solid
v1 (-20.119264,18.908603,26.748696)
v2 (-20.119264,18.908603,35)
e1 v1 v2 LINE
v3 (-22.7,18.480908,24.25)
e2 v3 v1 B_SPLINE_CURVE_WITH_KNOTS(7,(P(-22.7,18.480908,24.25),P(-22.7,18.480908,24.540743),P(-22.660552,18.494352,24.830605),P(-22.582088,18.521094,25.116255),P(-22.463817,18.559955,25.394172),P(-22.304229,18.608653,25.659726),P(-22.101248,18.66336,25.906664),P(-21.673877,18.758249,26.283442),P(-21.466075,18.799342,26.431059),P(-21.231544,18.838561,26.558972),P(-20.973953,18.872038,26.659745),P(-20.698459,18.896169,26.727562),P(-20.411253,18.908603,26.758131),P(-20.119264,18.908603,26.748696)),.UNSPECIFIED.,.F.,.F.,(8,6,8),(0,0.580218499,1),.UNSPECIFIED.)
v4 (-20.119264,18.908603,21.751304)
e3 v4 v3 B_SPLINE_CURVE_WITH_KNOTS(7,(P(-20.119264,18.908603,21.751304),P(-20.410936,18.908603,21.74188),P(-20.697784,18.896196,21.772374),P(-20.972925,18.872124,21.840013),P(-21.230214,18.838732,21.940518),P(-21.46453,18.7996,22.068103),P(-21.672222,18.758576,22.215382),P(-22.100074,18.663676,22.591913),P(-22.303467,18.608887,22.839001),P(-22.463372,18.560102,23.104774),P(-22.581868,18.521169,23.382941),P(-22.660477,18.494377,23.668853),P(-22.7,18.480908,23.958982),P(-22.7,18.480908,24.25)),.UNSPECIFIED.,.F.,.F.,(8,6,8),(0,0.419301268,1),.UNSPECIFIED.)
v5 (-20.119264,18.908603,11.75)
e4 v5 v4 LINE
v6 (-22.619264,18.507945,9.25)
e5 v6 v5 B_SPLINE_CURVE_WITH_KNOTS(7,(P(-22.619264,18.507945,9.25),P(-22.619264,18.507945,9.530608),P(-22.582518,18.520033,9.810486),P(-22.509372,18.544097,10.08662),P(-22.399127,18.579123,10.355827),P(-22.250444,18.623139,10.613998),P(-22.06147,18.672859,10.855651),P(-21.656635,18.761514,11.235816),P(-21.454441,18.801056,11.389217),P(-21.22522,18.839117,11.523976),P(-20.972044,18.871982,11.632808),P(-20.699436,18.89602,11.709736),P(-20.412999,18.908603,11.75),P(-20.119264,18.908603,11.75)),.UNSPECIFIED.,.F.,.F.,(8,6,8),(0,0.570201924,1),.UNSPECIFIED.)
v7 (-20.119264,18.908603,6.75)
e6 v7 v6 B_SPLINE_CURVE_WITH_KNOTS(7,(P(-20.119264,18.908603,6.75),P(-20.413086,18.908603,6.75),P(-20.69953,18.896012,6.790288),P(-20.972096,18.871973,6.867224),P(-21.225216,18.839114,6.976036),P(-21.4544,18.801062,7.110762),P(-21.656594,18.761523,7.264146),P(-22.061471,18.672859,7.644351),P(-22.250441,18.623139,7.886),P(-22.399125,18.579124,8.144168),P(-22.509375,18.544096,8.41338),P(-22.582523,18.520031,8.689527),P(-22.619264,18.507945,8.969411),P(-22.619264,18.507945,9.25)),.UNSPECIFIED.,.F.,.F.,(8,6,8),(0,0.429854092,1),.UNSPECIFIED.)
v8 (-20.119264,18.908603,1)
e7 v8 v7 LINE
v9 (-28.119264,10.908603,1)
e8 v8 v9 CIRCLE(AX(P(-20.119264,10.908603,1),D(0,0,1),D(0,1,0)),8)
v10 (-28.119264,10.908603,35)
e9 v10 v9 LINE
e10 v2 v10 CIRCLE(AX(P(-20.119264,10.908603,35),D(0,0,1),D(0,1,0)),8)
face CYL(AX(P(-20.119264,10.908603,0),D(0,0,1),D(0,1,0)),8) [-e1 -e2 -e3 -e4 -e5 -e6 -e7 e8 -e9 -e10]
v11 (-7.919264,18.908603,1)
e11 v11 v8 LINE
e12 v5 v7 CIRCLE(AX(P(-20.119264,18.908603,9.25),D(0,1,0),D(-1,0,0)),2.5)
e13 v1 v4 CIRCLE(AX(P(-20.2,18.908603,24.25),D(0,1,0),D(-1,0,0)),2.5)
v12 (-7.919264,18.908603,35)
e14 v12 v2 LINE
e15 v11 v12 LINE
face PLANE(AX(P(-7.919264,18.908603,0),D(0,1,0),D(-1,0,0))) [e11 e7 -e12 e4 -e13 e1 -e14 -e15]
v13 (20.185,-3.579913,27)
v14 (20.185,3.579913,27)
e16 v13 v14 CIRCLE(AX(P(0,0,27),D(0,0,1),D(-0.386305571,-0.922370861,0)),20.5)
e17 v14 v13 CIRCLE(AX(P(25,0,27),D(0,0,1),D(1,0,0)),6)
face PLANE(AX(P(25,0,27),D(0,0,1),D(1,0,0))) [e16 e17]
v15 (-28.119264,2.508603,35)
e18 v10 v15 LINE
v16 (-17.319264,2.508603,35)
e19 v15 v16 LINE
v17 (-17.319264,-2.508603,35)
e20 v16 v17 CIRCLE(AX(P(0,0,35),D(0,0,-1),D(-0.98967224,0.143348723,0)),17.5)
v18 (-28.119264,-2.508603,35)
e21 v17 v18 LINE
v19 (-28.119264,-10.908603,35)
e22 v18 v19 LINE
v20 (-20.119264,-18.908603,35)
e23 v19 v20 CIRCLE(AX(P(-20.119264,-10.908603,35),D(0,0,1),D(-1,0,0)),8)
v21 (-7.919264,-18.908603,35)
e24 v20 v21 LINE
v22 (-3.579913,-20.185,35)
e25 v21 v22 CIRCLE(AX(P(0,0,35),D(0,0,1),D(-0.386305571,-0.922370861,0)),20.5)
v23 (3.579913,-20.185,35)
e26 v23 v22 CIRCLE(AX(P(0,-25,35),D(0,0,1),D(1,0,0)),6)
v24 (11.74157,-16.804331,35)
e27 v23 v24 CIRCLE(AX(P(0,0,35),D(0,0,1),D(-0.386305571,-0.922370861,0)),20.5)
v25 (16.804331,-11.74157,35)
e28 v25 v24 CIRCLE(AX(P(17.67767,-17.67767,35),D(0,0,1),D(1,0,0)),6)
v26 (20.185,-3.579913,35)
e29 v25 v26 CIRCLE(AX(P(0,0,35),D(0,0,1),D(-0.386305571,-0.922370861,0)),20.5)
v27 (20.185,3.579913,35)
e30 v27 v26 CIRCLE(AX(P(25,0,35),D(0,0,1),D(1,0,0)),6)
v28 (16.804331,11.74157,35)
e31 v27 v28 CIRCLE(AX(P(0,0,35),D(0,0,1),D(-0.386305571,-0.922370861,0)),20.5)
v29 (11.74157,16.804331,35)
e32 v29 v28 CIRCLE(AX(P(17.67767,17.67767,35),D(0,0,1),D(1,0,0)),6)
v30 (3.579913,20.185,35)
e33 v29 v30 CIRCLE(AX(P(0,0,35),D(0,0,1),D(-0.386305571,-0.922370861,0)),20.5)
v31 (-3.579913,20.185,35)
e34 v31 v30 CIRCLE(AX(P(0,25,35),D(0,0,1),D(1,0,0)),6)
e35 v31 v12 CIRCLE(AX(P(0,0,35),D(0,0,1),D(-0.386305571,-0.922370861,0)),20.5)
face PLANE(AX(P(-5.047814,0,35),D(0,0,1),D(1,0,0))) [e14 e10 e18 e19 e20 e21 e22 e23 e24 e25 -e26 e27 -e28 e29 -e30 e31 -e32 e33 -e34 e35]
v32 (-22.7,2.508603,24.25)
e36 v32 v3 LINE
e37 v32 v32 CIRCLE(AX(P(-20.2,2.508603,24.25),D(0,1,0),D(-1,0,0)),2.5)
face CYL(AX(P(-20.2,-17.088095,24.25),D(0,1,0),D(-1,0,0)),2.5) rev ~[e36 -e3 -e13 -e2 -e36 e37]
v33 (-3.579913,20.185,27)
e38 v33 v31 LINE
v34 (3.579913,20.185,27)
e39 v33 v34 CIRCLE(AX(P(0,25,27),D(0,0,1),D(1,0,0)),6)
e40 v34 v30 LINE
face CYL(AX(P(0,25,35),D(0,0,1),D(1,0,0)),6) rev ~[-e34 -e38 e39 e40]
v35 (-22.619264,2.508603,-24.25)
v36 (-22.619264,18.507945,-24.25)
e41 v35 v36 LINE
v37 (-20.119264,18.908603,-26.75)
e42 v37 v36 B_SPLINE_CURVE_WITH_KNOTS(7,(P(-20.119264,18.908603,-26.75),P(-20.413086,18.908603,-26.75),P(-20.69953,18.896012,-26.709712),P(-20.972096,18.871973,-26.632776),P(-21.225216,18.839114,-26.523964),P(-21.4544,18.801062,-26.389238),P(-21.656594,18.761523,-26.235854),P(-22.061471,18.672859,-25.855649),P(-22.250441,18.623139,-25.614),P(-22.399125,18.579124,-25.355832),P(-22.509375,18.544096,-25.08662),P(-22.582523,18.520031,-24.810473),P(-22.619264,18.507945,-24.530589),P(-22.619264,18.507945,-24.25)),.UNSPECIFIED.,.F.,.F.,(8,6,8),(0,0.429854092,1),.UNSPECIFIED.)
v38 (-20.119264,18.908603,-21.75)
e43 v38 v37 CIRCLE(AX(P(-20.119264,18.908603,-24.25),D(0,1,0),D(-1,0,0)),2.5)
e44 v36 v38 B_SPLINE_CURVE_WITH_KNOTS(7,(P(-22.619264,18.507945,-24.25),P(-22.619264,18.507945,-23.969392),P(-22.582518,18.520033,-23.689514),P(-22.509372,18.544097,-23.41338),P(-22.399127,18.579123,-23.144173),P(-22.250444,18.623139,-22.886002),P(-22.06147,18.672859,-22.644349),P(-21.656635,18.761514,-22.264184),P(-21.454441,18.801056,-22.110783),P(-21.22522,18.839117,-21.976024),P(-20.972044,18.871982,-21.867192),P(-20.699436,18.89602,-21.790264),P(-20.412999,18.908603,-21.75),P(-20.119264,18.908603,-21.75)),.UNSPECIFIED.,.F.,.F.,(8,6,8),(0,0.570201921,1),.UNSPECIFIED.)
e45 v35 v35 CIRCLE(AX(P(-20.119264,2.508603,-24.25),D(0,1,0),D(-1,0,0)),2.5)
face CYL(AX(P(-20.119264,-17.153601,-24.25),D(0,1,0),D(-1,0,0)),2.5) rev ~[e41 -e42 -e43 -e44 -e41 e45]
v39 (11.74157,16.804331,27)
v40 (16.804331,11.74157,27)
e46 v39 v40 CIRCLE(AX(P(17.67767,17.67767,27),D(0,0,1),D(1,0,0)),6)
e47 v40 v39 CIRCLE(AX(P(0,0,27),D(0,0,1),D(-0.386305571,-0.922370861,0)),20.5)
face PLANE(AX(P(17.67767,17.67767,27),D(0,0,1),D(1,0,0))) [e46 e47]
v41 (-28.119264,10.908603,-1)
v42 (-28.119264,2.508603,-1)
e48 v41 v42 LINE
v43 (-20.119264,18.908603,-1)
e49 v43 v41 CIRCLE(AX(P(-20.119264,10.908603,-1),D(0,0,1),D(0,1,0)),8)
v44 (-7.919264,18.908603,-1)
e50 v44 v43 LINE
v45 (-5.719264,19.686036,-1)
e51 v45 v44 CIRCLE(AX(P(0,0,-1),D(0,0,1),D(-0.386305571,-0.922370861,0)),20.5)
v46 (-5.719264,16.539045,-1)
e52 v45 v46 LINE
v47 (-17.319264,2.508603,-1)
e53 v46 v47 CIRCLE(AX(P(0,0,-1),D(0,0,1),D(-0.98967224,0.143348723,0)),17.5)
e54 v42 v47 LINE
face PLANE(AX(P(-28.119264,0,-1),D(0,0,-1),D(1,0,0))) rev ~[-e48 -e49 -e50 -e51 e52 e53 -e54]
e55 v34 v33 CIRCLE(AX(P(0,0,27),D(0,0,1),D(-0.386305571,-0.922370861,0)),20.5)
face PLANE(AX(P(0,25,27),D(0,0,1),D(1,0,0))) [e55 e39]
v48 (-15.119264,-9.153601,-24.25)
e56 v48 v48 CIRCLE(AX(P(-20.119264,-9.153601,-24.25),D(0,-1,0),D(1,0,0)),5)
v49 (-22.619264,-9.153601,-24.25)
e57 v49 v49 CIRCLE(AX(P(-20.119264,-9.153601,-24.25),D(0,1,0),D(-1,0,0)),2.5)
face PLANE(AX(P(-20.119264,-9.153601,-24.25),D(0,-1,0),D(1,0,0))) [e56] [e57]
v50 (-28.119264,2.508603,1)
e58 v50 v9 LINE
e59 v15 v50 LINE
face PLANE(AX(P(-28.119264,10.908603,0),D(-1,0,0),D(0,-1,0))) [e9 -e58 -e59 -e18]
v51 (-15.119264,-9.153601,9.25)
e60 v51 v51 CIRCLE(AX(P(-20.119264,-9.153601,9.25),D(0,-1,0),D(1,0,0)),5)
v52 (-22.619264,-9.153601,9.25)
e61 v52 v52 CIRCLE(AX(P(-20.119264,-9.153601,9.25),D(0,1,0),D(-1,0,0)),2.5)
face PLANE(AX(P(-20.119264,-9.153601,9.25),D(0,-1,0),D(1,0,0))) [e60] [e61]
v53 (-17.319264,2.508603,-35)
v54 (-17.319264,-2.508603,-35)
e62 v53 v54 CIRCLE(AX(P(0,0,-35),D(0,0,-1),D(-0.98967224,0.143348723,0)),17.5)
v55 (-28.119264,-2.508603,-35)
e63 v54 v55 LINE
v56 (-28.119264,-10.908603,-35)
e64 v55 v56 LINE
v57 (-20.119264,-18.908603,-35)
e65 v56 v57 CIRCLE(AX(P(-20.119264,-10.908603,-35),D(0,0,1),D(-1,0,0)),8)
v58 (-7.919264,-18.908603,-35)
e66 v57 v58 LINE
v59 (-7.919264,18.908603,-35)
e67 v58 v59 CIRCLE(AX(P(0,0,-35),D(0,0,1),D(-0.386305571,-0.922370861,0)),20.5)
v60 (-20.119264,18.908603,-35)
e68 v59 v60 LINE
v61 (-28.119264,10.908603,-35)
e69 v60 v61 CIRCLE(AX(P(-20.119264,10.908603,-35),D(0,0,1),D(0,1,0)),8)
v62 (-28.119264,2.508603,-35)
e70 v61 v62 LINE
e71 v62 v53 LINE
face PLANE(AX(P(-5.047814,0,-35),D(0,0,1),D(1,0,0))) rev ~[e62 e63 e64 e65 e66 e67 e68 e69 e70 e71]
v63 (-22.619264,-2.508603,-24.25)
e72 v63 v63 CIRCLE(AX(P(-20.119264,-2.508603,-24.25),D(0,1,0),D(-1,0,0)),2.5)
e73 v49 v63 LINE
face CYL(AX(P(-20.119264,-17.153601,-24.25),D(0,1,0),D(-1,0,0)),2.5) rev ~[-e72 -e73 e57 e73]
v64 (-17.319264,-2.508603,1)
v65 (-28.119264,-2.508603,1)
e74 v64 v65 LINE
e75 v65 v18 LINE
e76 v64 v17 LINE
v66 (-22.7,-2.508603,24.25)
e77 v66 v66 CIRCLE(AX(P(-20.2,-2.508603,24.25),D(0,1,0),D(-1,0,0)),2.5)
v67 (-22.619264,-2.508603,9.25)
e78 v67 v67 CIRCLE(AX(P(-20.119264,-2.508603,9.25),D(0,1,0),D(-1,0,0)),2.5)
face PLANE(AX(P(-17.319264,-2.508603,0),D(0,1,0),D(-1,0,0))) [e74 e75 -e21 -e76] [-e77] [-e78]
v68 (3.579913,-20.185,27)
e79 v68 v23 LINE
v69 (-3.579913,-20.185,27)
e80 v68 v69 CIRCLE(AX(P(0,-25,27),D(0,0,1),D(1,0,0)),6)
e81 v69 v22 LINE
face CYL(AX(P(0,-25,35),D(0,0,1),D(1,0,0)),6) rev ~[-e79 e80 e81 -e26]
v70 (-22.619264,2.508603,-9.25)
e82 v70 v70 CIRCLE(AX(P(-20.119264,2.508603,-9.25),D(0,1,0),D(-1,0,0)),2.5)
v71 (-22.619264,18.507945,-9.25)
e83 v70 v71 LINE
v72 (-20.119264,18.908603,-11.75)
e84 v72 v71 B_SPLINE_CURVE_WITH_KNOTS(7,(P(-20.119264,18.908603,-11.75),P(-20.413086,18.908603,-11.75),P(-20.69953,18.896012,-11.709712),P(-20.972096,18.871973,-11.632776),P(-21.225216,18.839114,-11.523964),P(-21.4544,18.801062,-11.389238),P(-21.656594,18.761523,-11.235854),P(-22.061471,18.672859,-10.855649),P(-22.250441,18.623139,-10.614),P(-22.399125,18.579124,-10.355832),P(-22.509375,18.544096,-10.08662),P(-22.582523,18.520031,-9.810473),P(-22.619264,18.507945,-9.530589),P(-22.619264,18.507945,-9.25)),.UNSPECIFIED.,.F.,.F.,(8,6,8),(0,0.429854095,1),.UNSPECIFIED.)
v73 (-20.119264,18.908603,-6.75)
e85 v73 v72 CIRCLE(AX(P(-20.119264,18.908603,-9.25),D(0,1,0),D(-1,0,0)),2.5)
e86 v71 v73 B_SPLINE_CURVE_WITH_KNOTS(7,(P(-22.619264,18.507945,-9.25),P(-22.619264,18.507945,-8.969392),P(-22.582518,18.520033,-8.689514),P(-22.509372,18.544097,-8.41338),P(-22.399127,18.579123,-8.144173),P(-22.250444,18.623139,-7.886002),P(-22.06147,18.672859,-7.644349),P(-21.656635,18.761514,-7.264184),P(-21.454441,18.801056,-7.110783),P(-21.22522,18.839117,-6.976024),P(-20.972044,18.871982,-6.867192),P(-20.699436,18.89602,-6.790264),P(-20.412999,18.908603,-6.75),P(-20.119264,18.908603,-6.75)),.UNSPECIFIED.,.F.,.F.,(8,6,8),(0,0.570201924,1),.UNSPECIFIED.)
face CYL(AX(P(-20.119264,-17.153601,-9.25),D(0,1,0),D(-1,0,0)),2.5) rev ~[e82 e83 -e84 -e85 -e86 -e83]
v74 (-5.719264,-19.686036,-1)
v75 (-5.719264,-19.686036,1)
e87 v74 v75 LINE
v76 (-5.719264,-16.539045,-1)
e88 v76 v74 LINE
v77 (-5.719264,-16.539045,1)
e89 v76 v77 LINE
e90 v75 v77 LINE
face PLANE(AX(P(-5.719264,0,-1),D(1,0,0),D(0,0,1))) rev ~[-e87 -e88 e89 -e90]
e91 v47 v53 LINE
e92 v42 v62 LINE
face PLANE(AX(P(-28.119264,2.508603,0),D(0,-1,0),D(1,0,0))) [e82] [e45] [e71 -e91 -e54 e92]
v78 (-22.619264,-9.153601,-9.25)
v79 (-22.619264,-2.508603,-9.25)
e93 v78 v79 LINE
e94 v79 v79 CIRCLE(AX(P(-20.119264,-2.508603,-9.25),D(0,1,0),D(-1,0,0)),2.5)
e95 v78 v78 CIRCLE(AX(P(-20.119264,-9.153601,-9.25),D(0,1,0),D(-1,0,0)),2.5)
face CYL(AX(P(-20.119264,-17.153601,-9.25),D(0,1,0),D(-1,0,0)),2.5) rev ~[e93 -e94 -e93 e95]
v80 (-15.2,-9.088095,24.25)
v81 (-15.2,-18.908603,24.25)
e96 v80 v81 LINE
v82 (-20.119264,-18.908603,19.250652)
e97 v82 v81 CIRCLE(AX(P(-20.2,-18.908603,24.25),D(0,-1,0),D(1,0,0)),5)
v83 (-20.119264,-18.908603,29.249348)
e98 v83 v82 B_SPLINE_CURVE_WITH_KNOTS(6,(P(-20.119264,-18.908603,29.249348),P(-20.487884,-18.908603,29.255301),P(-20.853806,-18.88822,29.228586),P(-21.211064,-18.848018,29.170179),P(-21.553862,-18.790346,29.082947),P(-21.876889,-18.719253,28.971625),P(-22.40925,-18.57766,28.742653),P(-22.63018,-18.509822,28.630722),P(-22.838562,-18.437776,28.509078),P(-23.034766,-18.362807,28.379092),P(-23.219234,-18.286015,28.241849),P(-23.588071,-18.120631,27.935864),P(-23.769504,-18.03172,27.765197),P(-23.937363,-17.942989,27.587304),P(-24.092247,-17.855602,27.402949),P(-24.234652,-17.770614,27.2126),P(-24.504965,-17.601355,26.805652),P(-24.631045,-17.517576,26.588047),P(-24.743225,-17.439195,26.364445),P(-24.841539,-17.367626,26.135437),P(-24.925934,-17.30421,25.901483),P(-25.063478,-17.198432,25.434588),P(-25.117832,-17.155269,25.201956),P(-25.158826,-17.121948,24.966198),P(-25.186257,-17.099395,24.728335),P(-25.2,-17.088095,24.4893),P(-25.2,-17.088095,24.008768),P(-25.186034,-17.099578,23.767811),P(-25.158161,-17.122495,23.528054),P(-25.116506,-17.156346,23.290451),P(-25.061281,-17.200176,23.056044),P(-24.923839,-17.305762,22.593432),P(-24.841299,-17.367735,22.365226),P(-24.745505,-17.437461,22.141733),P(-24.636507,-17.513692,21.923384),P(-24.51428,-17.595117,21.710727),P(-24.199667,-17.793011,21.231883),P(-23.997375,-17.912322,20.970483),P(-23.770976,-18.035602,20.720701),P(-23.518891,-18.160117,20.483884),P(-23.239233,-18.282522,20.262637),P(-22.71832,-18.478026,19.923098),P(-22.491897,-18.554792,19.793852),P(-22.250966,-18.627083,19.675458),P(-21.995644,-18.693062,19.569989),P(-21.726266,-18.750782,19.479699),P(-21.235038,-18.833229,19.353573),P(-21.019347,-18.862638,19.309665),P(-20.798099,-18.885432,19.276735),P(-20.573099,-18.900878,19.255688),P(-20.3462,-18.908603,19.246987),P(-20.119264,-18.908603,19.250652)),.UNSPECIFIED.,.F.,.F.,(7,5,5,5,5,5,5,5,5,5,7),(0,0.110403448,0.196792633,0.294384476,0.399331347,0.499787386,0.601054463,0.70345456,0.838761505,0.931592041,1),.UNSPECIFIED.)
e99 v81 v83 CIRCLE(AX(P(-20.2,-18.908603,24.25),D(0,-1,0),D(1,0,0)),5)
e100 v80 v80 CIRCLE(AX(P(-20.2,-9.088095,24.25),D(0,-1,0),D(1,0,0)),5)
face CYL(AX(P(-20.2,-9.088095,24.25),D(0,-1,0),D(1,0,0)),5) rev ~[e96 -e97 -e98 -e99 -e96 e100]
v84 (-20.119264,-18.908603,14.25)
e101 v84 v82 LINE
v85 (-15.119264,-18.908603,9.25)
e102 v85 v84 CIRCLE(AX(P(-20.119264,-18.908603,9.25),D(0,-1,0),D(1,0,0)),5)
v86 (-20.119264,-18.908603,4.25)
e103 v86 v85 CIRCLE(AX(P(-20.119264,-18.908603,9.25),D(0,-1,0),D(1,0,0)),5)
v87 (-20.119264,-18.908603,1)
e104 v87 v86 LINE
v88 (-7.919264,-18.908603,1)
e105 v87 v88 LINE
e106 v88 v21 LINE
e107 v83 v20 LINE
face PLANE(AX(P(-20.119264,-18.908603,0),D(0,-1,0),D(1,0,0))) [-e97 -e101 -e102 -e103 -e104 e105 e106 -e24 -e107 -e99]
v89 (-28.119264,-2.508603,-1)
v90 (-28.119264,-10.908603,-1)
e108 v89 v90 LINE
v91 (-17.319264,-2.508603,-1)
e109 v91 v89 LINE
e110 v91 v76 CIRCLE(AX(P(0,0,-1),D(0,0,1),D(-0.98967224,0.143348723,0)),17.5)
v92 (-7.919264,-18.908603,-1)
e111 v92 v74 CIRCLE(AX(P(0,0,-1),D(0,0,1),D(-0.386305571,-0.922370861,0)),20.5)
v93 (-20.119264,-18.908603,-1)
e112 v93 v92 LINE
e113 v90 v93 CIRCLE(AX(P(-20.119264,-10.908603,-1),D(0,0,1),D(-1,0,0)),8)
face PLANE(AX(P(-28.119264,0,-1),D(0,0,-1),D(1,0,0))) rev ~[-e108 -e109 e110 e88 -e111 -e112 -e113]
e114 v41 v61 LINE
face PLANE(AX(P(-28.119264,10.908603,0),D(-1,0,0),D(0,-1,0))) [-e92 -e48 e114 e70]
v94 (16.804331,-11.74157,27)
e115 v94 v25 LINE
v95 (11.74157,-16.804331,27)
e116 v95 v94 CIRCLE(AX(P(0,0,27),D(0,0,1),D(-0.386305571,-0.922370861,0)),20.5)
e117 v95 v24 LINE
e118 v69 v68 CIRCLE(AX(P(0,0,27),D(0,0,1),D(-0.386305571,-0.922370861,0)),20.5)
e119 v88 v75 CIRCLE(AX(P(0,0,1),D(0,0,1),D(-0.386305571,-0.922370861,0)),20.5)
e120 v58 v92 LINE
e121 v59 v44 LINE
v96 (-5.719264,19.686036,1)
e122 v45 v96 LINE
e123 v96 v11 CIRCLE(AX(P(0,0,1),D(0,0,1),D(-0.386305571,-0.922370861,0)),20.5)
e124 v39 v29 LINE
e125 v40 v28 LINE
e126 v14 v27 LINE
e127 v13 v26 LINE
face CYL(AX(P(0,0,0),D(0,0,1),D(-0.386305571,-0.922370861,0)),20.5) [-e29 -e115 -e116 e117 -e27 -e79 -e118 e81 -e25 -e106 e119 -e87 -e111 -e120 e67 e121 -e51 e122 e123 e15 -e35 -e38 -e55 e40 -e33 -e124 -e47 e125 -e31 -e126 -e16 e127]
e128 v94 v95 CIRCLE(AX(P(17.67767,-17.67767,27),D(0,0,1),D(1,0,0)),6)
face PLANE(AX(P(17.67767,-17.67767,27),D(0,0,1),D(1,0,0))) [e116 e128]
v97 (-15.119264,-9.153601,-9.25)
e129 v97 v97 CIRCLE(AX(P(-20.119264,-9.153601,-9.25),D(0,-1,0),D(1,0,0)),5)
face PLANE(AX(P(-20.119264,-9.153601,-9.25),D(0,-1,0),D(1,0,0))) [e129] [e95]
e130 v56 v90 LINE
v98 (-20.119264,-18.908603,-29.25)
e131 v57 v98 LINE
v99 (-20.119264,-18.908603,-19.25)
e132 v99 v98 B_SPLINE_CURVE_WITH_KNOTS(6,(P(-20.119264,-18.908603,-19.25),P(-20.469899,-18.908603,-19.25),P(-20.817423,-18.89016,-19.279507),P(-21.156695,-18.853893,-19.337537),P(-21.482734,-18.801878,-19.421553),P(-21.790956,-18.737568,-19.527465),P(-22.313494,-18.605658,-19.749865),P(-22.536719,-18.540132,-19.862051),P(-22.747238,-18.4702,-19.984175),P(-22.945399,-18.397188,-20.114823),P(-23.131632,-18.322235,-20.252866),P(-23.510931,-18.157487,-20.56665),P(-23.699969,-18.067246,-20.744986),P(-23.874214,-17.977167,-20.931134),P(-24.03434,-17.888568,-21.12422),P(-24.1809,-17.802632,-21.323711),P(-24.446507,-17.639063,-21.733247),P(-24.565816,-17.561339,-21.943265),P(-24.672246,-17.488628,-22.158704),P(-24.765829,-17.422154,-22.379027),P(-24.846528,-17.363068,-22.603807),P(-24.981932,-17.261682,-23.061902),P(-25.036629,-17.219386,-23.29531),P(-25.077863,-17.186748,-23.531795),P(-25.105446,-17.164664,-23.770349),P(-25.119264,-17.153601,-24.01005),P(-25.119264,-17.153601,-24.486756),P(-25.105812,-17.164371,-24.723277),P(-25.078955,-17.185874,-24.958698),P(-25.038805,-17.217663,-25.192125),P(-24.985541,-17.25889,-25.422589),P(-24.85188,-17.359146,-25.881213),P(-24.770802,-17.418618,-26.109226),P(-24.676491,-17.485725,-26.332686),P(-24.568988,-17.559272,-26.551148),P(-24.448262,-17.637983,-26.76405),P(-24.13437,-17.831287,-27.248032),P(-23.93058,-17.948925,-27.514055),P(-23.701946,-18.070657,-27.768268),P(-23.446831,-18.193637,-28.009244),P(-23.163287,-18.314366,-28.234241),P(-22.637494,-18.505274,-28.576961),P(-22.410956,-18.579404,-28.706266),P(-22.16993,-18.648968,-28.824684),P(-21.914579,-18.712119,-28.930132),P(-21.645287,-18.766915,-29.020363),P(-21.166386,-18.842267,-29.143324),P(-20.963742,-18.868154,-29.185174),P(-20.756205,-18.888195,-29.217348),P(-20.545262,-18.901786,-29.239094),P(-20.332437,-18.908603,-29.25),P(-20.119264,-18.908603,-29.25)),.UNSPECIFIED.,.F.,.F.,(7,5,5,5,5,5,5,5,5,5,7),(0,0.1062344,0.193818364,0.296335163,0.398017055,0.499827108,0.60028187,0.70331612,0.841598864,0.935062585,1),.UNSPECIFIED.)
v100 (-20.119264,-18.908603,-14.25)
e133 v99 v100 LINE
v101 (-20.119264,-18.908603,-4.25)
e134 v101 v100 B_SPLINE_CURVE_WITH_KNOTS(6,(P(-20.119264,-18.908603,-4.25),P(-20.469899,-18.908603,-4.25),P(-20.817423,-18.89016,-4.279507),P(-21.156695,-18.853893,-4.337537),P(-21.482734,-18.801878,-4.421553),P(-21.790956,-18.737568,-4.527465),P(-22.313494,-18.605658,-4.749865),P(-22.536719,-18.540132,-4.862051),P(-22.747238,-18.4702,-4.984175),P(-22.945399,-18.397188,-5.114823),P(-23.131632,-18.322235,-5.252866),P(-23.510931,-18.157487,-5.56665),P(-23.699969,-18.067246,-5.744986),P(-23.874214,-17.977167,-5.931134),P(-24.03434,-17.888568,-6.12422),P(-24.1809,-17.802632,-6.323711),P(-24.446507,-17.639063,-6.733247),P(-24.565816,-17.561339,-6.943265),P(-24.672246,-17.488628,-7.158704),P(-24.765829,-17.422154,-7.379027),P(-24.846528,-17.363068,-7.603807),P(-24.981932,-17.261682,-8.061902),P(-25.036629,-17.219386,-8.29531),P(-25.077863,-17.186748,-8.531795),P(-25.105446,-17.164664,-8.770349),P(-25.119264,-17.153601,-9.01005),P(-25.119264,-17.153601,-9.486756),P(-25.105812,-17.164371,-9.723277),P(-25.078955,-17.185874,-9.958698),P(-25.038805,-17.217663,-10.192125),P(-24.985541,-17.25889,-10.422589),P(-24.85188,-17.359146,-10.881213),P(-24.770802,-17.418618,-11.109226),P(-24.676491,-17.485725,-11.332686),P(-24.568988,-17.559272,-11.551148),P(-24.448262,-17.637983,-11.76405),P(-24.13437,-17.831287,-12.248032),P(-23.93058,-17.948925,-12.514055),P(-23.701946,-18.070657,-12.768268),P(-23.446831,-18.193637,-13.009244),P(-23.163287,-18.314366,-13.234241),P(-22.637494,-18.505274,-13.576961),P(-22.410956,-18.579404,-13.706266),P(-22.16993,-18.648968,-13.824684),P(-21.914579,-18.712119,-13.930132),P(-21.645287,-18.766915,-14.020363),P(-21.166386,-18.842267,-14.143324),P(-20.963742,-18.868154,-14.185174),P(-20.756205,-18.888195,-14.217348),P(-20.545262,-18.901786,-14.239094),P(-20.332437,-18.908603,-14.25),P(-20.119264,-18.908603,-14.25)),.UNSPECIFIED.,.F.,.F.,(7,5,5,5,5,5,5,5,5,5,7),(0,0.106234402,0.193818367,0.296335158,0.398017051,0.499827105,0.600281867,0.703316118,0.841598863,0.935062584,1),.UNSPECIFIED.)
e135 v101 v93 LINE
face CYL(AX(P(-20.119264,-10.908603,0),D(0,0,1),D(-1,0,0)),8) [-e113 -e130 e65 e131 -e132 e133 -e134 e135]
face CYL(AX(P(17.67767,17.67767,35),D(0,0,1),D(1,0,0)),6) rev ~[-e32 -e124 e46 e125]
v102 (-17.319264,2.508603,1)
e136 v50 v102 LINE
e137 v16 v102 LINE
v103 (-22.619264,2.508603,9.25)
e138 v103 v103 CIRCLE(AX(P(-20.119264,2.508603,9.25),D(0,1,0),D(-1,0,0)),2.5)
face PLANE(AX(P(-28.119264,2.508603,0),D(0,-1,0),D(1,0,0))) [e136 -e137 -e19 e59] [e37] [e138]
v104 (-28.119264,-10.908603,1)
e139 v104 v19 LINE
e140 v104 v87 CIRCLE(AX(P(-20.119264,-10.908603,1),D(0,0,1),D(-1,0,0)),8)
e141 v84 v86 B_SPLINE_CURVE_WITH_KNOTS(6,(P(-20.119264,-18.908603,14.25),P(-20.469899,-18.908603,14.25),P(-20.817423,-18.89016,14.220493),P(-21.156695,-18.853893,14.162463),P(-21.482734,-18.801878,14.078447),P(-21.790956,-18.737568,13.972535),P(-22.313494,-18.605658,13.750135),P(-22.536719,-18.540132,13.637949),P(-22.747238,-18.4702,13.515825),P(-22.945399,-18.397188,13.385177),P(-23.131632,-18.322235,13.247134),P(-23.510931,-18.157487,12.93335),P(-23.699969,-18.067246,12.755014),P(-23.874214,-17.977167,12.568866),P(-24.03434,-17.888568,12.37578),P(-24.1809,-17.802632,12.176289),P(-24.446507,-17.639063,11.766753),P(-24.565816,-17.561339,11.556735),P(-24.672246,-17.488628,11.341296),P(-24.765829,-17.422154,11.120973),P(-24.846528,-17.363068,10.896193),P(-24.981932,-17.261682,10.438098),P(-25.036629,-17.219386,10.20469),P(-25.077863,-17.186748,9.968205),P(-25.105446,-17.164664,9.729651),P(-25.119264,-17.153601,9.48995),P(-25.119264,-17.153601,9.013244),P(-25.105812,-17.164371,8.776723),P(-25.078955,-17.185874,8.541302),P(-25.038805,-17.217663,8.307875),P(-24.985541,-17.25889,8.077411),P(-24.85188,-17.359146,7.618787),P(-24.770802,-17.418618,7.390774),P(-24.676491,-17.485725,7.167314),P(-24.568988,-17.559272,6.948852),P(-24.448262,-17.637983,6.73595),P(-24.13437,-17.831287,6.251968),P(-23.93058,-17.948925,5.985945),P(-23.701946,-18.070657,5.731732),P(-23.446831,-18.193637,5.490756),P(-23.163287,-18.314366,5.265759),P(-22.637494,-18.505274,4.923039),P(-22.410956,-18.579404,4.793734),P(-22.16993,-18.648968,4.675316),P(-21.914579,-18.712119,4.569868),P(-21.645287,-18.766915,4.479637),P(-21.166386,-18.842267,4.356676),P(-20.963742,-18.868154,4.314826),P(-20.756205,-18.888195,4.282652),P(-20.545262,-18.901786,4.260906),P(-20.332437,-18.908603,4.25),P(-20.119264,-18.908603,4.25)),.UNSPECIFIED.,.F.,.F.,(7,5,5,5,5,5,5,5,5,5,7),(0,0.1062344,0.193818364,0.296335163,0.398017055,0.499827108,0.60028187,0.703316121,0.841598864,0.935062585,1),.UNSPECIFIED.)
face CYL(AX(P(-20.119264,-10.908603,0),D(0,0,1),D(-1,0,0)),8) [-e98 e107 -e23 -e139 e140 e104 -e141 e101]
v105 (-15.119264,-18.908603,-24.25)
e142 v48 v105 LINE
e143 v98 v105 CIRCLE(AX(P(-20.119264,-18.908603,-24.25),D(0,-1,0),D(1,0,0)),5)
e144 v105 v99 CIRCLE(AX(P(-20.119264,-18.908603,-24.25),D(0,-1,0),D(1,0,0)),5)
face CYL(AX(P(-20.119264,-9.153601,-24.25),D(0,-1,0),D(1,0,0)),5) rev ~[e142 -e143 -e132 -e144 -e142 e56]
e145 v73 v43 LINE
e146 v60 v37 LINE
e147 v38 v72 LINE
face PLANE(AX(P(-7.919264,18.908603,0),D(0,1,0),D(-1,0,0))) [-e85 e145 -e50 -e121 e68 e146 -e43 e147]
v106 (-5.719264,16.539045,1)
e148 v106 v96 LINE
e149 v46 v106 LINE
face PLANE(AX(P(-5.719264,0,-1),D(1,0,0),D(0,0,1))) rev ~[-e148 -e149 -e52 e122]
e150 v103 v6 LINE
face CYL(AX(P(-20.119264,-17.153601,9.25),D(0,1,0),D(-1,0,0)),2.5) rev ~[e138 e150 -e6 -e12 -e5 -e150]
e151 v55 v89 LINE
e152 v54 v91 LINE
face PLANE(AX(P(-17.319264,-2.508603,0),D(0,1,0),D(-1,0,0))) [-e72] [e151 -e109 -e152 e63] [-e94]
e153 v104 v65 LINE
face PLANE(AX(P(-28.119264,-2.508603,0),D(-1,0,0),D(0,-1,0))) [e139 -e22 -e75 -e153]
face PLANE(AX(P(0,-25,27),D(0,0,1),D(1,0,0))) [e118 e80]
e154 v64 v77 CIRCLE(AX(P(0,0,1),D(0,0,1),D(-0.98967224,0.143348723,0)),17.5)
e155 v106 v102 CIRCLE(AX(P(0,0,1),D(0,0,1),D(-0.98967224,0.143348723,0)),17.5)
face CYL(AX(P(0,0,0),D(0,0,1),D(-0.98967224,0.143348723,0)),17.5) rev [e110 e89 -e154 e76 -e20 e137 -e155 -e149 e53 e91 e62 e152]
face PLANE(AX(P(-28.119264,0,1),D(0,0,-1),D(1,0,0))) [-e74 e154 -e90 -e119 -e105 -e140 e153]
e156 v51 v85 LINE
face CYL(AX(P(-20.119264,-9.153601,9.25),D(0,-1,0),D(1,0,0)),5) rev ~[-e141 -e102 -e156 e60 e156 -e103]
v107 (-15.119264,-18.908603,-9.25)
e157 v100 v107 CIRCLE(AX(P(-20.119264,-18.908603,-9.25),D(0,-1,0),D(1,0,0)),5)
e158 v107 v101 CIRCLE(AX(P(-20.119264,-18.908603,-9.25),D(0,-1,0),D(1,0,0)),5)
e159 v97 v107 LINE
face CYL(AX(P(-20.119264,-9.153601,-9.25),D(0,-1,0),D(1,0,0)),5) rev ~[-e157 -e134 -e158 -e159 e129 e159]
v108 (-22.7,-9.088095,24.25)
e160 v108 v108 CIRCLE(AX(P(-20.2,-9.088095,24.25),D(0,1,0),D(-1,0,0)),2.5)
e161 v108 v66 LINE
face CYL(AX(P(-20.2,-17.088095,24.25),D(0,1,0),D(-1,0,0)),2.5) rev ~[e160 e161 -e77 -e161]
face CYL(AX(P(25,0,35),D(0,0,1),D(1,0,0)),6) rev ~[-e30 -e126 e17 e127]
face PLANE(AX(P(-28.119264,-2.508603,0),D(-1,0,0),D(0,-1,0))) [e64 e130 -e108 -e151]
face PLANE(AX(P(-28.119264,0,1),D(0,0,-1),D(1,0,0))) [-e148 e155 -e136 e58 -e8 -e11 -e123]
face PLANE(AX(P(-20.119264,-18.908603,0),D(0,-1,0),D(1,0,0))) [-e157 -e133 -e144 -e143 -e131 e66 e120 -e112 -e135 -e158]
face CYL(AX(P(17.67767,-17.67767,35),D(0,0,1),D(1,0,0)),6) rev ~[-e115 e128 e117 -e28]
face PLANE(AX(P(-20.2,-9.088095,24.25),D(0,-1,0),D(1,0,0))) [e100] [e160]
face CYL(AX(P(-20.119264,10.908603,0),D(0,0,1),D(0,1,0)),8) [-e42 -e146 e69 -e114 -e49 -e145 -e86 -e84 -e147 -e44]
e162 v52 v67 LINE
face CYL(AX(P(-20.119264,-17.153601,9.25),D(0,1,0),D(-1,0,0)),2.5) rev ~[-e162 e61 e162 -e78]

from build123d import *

# Parameters (mm, degrees)
F1_DEPTH       = 35
F3_D           = 5
F3_START       = 1.7550021
F3_START_2     = 1.8205079
F3_CBORE_D     = 10
F3_CBORE_DEPTH = 8
F4_W           = 22.4
F4_H           = 2
F5_DEPTH       = 25
F6_R           = 6
F7_DEPTH       = 8


with BuildPart() as f1:
    # F0 (on Top) → F1 (new body, symmetric)
    with BuildSketch(Plane.XY):
        with BuildLine():
            ThreePointArc((-17.3192642082, 2.5086026559), (17.5, 0), (-17.3192642082, -2.5086026559))
            Line((-17.3192642082, -2.5086026559), (-28.1192642082, -2.5086026559))
            Line((-28.1192642082, -2.5086026559), (-28.1192642082, -10.9086026559))
            ThreePointArc((-28.1192642082, -10.9086026559), (-25.7761184577, -16.5654569054), (-20.1192642082, -18.9086026559))
            Line((-20.1192642082, -18.9086026559), (-7.9192642082, -18.9086026559))
            ThreePointArc((-7.9192642082, -18.9086026559), (20.5, 0), (-7.9192642082, 18.9086026559))
            Line((-7.9192642082, 18.9086026559), (-20.1192642082, 18.9086026559))
            ThreePointArc((-20.1192642082, 18.9086026559), (-25.7761184577, 16.5654569054), (-28.1192642082, 10.9086026559))
            Line((-28.1192642082, 10.9086026559), (-28.1192642082, 2.5086026559))
            Line((-28.1192642082, 2.5086026559), (-17.3192642082, 2.5086026559))
        make_face()
    extrude(amount=F1_DEPTH, both=True)

    # F3 (through all)
    # its depths count from where the whole tool has entered the part; down to there all is cleared
    with Locations(Plane.XZ.offset(18.9086026559)):
        with Locations((-20.1192642082, -24.25, -F3_START), (-20.1192642082, -9.25, -F3_START), (-20.1192642082, 9.25, -F3_START), (-20.2, 24.25, -F3_START_2)):
            CounterBoreHole(F3_D / 2, F3_CBORE_D / 2, F3_CBORE_DEPTH)

    # F4 (on Front) → F5 (cut, symmetric)
    with BuildSketch(Plane.XZ):
        with Locations((-16.9192642082, 0)):
            Rectangle(F4_W, F4_H)
    extrude(amount=F5_DEPTH, both=True, mode=Mode.SUBTRACT)

    # F6 (on face) → F7 (cut)
    with BuildSketch(Plane.XY.offset(35)):
        with Locations((0, -25)):
            Circle(F6_R)
        with Locations((17.6776695297, -17.6776695297)):
            Circle(F6_R)
        with Locations((25, 0)):
            Circle(F6_R)
        with Locations((17.6776695297, 17.6776695297)):
            Circle(F6_R)
        with Locations((0, 25)):
            Circle(F6_R)
    extrude(amount=-F7_DEPTH, mode=Mode.SUBTRACT)


solid = f1.part
